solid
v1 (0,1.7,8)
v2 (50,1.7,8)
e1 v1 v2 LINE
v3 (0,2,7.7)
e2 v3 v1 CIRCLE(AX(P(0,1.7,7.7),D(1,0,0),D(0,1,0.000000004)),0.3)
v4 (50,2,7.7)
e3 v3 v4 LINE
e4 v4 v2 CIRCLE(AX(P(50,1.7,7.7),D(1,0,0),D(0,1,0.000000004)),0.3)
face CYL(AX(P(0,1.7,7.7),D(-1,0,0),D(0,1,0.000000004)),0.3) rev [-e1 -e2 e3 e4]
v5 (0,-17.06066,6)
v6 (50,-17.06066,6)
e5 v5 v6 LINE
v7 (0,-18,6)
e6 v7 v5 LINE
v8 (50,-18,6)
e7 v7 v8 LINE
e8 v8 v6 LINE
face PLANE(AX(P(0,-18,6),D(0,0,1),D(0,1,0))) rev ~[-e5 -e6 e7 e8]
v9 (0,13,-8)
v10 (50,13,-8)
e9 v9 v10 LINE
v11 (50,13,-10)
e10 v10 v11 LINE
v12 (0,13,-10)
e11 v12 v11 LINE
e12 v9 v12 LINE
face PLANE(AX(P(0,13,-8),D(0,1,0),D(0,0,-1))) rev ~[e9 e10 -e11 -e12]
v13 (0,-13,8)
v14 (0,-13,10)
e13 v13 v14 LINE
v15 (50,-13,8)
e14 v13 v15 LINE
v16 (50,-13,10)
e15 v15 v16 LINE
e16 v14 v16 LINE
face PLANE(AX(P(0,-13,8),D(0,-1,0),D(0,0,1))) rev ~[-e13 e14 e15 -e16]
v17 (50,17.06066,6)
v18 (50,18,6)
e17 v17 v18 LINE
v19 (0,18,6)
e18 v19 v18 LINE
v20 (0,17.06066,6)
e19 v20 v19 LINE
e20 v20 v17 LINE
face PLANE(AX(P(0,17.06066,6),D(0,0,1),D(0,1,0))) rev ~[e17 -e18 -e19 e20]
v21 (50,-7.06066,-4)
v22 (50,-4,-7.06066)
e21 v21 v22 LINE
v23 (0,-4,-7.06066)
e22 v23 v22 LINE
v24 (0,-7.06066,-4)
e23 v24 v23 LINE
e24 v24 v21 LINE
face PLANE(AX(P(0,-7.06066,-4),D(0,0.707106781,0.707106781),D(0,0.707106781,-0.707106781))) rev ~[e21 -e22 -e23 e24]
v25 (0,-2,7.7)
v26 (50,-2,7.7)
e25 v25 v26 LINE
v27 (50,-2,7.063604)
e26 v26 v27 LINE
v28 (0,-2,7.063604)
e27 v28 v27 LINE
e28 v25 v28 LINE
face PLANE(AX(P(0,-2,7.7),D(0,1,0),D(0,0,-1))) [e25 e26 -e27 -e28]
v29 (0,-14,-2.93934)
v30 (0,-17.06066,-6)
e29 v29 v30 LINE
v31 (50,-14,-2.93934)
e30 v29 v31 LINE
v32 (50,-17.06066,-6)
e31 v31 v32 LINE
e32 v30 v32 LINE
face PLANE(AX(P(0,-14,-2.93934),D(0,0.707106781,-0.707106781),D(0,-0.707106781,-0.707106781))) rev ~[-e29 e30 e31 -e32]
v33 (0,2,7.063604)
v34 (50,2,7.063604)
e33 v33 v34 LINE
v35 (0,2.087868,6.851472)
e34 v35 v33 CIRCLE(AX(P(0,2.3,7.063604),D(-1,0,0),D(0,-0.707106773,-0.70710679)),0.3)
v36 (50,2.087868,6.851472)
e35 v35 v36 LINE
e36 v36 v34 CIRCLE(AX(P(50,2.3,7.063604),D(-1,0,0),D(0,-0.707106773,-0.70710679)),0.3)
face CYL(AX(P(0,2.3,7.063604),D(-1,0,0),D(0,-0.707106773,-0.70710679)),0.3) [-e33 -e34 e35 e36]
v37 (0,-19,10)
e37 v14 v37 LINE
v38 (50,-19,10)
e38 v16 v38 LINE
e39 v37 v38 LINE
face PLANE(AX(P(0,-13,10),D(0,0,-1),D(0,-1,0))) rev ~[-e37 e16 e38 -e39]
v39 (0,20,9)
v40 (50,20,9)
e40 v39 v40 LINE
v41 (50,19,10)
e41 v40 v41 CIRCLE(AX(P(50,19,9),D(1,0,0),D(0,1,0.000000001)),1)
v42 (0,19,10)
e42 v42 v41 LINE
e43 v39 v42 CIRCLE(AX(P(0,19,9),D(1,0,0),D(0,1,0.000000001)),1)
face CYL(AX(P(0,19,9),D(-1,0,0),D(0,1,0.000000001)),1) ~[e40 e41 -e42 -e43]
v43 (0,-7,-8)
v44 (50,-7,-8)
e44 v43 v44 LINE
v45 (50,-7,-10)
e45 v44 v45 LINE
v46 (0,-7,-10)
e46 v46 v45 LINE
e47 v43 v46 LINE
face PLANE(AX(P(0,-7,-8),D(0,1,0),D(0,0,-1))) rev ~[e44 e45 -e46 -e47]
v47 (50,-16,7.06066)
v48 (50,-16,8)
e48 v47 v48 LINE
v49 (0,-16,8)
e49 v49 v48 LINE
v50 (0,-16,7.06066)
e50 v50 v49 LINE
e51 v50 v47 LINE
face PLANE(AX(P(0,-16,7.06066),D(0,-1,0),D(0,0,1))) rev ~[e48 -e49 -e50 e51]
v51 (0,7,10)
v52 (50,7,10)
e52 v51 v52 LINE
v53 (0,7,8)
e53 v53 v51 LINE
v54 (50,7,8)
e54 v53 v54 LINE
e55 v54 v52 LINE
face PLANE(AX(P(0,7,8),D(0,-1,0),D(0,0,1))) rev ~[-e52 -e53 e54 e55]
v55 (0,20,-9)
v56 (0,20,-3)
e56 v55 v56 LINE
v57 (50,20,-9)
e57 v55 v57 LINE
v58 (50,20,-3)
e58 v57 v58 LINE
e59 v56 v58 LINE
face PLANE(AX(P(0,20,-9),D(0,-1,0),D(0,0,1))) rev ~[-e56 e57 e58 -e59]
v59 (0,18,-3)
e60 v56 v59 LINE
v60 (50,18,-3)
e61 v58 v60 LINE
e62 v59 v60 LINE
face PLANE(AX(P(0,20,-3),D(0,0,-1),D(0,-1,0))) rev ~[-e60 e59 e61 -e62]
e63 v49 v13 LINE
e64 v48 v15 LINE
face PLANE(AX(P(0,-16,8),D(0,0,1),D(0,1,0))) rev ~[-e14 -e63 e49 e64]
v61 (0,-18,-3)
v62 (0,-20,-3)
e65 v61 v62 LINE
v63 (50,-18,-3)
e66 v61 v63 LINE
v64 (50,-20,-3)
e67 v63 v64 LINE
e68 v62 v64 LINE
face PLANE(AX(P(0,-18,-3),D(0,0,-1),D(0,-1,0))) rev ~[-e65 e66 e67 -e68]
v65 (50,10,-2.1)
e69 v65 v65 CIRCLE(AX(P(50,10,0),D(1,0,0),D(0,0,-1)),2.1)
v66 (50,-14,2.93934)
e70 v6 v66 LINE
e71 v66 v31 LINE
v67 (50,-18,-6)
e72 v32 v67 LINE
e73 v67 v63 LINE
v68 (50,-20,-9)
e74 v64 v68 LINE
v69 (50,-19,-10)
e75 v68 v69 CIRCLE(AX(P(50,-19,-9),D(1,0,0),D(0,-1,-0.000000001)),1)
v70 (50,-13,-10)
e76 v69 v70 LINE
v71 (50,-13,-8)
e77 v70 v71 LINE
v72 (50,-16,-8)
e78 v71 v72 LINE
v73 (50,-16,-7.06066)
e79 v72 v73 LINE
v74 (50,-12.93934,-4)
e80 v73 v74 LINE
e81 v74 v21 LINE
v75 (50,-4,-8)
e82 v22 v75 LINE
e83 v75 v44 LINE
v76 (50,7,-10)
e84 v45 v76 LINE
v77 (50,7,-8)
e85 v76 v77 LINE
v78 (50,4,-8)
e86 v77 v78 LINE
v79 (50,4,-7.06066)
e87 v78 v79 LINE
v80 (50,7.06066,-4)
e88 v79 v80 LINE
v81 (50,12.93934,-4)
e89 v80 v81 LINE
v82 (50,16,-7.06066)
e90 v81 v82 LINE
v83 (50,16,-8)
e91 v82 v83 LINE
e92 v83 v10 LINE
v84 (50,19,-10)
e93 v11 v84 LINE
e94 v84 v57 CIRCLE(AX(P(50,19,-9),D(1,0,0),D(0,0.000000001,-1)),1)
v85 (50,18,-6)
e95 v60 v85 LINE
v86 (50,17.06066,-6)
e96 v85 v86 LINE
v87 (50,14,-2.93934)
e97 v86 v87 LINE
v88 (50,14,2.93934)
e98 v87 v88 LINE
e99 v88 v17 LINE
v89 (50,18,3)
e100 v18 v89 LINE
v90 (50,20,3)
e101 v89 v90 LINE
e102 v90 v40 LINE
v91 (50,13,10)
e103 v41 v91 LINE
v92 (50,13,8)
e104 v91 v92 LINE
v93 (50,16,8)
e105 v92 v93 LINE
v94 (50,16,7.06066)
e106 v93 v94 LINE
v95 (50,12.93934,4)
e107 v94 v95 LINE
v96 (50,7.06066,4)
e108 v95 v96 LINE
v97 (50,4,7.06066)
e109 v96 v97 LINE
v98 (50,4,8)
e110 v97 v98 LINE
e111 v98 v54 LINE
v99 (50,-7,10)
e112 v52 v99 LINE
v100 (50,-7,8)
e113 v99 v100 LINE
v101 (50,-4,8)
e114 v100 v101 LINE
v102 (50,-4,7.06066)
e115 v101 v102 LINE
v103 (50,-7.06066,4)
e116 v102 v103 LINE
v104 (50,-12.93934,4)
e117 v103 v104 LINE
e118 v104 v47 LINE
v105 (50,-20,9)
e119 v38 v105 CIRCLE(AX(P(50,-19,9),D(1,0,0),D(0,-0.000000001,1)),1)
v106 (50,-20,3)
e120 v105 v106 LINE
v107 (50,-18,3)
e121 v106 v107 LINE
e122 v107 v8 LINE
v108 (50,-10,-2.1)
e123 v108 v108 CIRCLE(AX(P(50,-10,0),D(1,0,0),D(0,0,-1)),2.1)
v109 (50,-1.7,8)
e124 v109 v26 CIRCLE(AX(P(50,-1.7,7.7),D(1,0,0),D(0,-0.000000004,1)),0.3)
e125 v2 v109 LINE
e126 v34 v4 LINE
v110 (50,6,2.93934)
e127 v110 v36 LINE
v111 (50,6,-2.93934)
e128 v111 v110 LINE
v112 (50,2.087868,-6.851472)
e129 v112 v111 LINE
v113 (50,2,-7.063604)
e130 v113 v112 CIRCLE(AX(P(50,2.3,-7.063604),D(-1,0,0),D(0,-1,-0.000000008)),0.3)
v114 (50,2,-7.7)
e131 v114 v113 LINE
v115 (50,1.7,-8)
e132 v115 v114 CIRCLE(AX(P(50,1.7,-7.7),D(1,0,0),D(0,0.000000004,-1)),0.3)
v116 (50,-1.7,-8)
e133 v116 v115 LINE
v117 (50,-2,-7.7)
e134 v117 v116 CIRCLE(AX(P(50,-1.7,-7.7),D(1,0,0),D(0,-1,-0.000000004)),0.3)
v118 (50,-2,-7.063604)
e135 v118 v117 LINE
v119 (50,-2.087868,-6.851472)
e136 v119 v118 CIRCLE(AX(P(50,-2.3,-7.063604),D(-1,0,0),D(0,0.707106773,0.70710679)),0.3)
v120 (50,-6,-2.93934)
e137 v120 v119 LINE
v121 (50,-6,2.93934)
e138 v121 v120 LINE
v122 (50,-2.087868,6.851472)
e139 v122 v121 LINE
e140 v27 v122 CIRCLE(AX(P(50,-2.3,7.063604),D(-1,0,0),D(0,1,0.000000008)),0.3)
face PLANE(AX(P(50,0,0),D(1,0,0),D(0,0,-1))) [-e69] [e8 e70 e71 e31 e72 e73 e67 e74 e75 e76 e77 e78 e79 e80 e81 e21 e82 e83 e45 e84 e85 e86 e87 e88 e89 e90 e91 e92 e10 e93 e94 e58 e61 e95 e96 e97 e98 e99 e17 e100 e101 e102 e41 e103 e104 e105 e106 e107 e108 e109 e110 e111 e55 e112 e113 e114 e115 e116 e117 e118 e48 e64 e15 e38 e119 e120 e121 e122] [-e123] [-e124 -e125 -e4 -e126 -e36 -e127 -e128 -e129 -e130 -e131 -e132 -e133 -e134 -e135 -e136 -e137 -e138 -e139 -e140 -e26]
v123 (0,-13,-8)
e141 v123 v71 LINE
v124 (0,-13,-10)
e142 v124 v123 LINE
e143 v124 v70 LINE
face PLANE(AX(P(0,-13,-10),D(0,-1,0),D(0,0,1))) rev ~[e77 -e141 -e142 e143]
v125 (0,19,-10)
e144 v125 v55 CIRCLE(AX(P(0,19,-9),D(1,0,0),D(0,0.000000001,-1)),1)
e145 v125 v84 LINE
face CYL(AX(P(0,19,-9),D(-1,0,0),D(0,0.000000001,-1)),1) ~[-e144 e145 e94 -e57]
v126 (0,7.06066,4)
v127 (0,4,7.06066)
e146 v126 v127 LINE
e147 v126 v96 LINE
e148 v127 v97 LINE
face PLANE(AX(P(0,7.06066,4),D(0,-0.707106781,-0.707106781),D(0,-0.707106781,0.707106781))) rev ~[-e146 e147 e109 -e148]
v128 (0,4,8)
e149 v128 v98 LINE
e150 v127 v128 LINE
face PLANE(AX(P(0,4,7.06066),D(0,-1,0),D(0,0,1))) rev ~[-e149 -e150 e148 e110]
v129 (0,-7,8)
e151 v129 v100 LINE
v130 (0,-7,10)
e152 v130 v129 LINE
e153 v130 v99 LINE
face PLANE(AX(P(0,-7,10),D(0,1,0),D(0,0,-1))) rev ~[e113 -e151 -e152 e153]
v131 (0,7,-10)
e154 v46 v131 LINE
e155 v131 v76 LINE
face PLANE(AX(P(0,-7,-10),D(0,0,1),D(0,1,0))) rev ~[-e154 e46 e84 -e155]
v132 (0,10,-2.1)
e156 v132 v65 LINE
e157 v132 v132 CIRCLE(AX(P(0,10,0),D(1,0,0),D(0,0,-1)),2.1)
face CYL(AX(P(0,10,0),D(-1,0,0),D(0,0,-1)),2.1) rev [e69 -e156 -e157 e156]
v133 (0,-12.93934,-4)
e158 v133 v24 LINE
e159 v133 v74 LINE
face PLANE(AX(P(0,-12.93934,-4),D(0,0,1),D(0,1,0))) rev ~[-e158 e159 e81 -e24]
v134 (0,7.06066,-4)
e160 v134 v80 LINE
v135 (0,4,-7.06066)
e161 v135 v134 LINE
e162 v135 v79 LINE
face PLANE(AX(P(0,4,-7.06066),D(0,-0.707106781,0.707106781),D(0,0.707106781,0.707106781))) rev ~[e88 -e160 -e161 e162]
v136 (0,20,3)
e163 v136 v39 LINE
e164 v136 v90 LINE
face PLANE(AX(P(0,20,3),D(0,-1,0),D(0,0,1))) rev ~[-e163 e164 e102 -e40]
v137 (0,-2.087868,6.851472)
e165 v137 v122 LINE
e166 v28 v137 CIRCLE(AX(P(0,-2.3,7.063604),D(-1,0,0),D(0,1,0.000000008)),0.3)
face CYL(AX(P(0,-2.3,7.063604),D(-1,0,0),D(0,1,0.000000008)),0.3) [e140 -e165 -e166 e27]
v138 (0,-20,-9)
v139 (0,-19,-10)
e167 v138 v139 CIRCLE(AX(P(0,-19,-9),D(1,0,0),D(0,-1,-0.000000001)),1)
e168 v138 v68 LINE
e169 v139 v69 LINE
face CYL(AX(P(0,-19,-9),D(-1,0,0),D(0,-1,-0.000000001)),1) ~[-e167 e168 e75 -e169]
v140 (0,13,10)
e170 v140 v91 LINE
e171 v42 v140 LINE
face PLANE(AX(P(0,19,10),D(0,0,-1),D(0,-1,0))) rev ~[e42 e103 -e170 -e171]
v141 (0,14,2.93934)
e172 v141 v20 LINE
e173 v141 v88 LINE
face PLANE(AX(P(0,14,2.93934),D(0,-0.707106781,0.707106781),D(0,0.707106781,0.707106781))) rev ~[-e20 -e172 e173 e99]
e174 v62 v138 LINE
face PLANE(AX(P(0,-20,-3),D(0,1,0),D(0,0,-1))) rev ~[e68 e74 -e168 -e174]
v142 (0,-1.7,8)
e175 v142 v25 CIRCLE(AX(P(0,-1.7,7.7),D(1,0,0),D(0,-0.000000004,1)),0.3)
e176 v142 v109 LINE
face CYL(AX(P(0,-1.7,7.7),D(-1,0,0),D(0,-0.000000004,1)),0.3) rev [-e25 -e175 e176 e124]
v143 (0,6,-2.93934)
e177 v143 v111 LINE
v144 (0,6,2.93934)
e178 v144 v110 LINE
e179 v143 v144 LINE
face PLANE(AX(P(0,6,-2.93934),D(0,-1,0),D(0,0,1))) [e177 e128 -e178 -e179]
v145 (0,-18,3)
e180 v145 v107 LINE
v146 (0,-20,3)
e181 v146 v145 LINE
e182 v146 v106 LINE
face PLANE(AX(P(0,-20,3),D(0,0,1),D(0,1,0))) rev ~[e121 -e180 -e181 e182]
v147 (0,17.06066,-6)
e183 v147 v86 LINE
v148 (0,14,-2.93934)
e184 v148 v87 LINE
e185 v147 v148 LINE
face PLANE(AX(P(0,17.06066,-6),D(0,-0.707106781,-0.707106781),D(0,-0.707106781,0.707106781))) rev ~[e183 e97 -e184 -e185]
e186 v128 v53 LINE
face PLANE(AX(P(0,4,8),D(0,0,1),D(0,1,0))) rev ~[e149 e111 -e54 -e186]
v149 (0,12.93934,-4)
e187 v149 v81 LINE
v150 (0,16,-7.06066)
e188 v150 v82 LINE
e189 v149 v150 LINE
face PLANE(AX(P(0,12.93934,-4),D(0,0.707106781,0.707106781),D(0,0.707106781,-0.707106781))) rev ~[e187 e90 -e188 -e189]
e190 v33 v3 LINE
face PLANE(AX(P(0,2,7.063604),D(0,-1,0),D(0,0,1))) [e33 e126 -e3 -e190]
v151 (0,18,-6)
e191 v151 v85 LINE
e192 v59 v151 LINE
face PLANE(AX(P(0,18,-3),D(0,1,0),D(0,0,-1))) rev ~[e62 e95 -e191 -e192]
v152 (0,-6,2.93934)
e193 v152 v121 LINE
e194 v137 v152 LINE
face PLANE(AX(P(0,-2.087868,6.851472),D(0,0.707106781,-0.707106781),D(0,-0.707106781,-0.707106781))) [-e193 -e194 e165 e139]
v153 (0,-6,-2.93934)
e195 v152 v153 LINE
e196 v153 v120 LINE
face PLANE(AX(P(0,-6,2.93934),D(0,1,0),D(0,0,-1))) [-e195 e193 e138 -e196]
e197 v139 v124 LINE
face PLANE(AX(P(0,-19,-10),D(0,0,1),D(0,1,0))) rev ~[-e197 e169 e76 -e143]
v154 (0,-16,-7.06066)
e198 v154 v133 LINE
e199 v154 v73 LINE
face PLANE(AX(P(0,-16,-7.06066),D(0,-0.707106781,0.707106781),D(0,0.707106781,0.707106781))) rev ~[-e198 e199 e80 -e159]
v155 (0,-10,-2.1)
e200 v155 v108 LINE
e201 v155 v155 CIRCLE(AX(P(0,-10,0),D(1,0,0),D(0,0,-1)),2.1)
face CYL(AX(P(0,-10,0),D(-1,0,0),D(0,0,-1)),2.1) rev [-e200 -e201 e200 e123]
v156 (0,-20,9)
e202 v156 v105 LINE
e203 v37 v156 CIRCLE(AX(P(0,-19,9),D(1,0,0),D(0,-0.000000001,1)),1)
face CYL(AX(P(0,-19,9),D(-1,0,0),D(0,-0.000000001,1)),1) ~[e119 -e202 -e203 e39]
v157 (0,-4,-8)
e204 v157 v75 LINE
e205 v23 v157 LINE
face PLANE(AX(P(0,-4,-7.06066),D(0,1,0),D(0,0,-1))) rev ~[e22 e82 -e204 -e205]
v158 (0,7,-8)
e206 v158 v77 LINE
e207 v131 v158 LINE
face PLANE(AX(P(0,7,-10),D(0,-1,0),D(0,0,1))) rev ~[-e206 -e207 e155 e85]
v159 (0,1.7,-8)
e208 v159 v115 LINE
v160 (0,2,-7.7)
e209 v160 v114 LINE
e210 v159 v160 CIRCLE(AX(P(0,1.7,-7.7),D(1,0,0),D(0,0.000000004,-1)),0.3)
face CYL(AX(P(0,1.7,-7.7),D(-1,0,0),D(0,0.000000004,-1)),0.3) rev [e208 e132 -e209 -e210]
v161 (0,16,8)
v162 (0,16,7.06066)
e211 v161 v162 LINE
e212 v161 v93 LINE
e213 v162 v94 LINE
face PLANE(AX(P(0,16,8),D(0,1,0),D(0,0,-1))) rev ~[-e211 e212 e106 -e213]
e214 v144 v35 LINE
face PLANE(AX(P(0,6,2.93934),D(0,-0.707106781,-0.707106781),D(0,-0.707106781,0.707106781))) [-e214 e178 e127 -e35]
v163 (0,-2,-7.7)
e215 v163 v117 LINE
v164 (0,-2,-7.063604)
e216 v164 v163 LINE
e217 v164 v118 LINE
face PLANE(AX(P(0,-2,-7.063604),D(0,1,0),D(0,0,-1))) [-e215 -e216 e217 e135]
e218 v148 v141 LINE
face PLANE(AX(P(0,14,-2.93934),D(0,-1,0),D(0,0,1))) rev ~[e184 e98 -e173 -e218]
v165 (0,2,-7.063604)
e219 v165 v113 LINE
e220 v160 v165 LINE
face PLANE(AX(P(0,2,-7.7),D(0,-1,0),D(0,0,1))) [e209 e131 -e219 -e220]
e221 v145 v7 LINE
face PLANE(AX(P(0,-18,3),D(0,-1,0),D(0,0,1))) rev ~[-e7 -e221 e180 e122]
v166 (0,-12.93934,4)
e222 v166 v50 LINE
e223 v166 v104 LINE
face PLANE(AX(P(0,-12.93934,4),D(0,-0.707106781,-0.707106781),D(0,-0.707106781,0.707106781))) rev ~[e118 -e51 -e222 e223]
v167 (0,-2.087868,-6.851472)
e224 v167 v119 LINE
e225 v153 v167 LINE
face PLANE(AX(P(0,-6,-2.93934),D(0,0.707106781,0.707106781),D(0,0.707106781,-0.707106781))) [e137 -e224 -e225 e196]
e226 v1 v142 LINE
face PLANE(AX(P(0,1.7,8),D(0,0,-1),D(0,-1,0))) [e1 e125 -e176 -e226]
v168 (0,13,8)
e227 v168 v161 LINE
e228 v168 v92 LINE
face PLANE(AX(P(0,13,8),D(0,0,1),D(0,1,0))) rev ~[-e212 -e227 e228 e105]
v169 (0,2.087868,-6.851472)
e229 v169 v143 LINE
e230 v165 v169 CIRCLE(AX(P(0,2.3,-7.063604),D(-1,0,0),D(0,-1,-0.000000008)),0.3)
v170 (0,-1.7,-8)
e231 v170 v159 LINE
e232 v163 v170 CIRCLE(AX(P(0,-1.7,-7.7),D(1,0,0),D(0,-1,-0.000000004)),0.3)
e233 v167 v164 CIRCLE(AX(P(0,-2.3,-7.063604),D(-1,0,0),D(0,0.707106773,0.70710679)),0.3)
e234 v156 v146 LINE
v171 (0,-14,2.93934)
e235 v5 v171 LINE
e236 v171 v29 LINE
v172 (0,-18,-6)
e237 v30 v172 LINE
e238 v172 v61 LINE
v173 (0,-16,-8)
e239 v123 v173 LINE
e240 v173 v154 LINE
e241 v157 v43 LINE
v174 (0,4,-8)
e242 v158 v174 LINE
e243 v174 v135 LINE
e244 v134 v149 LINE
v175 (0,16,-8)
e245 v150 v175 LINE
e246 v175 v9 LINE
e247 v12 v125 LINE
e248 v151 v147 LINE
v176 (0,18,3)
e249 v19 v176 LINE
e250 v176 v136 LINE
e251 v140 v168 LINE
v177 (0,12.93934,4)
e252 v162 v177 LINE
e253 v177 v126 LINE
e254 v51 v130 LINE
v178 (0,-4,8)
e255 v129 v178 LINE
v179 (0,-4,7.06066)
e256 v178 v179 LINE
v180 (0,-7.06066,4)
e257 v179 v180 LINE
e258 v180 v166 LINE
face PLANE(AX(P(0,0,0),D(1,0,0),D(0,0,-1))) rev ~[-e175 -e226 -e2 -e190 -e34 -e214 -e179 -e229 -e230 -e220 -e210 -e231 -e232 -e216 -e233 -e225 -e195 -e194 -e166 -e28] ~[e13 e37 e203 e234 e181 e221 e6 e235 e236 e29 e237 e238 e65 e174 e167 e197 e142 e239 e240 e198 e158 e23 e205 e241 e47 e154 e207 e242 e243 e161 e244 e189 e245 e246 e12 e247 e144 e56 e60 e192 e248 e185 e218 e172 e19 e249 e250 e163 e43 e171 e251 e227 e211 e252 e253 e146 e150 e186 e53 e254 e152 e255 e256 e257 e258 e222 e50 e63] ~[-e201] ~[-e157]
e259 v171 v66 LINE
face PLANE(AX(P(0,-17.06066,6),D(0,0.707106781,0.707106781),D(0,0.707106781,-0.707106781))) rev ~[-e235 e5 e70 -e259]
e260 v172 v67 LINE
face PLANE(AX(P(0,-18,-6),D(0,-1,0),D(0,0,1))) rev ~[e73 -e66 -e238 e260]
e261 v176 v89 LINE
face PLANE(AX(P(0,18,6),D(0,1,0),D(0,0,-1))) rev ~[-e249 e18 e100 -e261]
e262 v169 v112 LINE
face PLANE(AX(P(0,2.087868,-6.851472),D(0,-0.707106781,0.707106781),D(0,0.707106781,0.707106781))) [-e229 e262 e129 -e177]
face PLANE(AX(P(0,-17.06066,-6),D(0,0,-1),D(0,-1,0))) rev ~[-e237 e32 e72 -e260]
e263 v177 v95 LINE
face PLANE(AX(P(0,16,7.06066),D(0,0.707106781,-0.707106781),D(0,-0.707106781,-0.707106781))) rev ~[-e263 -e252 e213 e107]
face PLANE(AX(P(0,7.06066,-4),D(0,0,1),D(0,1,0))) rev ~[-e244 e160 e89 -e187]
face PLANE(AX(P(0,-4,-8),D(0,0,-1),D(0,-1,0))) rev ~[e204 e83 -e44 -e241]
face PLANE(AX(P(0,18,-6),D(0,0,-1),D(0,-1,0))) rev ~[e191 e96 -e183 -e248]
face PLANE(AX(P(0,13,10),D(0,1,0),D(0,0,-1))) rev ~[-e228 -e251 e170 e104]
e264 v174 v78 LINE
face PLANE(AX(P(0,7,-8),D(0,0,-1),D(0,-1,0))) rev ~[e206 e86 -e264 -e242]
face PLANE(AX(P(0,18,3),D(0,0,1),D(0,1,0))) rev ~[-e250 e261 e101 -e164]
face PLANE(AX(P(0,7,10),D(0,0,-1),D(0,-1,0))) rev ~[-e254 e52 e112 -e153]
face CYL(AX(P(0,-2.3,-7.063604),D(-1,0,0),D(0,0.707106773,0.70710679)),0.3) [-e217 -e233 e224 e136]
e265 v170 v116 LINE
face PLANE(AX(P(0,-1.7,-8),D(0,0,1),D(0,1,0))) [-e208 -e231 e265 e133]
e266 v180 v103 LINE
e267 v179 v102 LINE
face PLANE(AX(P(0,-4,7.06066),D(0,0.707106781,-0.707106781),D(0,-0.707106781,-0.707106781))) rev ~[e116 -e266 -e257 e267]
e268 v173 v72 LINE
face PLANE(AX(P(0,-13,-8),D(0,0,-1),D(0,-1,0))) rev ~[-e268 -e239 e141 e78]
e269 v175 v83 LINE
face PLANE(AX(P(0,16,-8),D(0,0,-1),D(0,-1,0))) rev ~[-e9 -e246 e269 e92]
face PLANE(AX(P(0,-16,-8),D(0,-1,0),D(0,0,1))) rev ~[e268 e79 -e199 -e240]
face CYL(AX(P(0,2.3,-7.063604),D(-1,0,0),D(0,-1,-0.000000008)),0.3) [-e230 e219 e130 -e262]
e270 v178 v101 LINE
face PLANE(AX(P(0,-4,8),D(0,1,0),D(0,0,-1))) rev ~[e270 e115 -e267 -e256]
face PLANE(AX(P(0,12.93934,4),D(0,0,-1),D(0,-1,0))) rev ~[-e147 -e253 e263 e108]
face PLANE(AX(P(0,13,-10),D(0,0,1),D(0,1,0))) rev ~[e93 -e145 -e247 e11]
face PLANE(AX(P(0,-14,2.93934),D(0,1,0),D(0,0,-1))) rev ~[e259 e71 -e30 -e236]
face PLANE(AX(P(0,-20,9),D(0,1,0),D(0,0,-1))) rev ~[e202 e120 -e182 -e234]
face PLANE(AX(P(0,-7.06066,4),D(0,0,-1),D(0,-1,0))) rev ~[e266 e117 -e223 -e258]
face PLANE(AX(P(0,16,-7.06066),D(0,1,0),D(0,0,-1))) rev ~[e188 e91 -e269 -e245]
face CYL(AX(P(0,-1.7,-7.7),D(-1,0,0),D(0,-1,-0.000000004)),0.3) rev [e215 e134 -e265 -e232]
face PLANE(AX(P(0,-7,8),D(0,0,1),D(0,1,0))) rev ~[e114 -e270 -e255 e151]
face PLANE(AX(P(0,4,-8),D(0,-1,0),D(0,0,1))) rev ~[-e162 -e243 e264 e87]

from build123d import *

# Parameters (mm, degrees)
SKETCH1_R           = 2.1
BOSS_EXTRUDE1_DEPTH = 50


with BuildPart() as part:
    # Sketch1 → Boss-Extrude1 (new body)
    with BuildSketch(Plane(origin=(0, 0, 0), x_dir=(0, 0, -1), z_dir=(1, 0, 0))):
        with BuildLine():
            Line((-10, -13), (-10, -19))
            ThreePointArc((-10, -19), (-9.707106781, -19.707106781), (-9, -20))
            Line((-9, -20), (-3, -20))
            Line((-3, -20), (-3, -18))
            Line((-3, -18), (-6, -18))
            Line((-6, -18), (-6, -17.060660172))
            Line((-6, -17.060660172), (-2.939339828, -14))
            Line((-2.939339828, -14), (2.939339828, -14))
            Line((2.939339828, -14), (6, -17.060660172))
            Line((6, -17.060660172), (6, -18))
            Line((6, -18), (3, -18))
            Line((3, -18), (3, -20))
            Line((3, -20), (9, -20))
            ThreePointArc((9, -20), (9.707106781, -19.707106781), (10, -19))
            Line((10, -19), (10, -13))
            Line((10, -13), (8, -13))
            Line((8, -13), (8, -16))
            Line((8, -16), (7.060660172, -16))
            Line((7.060660172, -16), (4, -12.939339828))
            Line((4, -12.939339828), (4, -7.060660172))
            Line((4, -7.060660172), (7.060660172, -4))
            Line((7.060660172, -4), (8, -4))
            Line((8, -4), (8, -7))
            Line((8, -7), (10, -7))
            Line((10, -7), (10, 7))
            Line((10, 7), (8, 7))
            Line((8, 7), (8, 4))
            Line((8, 4), (7.060660172, 4))
            Line((7.060660172, 4), (4, 7.060660172))
            Line((4, 7.060660172), (4, 12.939339828))
            Line((4, 12.939339828), (7.060660172, 16))
            Line((7.060660172, 16), (8, 16))
            Line((8, 16), (8, 13))
            Line((8, 13), (10, 13))
            Line((10, 13), (10, 19))
            ThreePointArc((10, 19), (9.707106781, 19.707106781), (9, 20))
            Line((9, 20), (3, 20))
            Line((3, 20), (3, 18))
            Line((3, 18), (6, 18))
            Line((6, 18), (6, 17.060660172))
            Line((6, 17.060660172), (2.939339828, 14))
            Line((2.939339828, 14), (-2.939339828, 14))
            Line((-2.939339828, 14), (-6, 17.060660172))
            Line((-6, 17.060660172), (-6, 18))
            Line((-6, 18), (-3, 18))
            Line((-3, 18), (-3, 20))
            Line((-3, 20), (-9, 20))
            ThreePointArc((-9, 20), (-9.707106781, 19.707106781), (-10, 19))
            Line((-10, 19), (-10, 13))
            Line((-10, 13), (-8, 13))
            Line((-8, 13), (-8, 16))
            Line((-8, 16), (-7.060660172, 16))
            Line((-7.060660172, 16), (-4, 12.939339828))
            Line((-4, 12.939339828), (-4, 7.060660172))
            Line((-4, 7.060660172), (-7.060660172, 4))
            Line((-7.060660172, 4), (-8, 4))
            Line((-8, 4), (-8, 7))
            Line((-8, 7), (-10, 7))
            Line((-10, 7), (-10, -7))
            Line((-10, -7), (-8, -7))
            Line((-8, -7), (-8, -4))
            Line((-8, -4), (-7.060660172, -4))
            Line((-7.060660172, -4), (-4, -7.060660172))
            Line((-4, -7.060660172), (-4, -12.939339828))
            Line((-4, -12.939339828), (-7.060660172, -16))
            Line((-7.060660172, -16), (-8, -16))
            Line((-8, -16), (-8, -13))
            Line((-8, -13), (-10, -13))
        make_face()
        with Locations((0, 10)):
            Circle(SKETCH1_R, mode=Mode.SUBTRACT)
        with Locations((0, -10)):
            Circle(SKETCH1_R, mode=Mode.SUBTRACT)
        with BuildLine():
            Line((-8, 1.7), (-8, -1.7))
            ThreePointArc((-8, -1.7), (-7.912132034, -1.912132034), (-7.7, -2))
            Line((-7.7, -2), (-7.063603897, -2))
            ThreePointArc((-7.063603897, -2), (-6.948798867, -2.02283614), (-6.851471863, -2.087867966))
            Line((-6.851471863, -2.087867966), (-2.939339828, -6))
            Line((-2.939339828, -6), (2.939339828, -6))
            Line((2.939339828, -6), (6.851471863, -2.087867966))
            ThreePointArc((6.851471863, -2.087867966), (6.948798867, -2.02283614), (7.063603897, -2))
            Line((7.063603897, -2), (7.7, -2))
            ThreePointArc((7.7, -2), (7.912132034, -1.912132034), (8, -1.7))
            Line((8, -1.7), (8, 1.7))
            ThreePointArc((8, 1.7), (7.912132034, 1.912132034), (7.7, 2))
            Line((7.7, 2), (7.063603897, 2))
            ThreePointArc((7.063603897, 2), (6.948798867, 2.02283614), (6.851471863, 2.087867966))
            Line((6.851471863, 2.087867966), (2.939339828, 6))
            Line((2.939339828, 6), (-2.939339828, 6))
            Line((-2.939339828, 6), (-6.851471863, 2.087867966))
            ThreePointArc((-6.851471863, 2.087867966), (-6.948798867, 2.02283614), (-7.063603897, 2))
            Line((-7.063603897, 2), (-7.7, 2))
            ThreePointArc((-7.7, 2), (-7.912132034, 1.912132034), (-8, 1.7))
        make_face(mode=Mode.SUBTRACT)
    extrude(amount=BOSS_EXTRUDE1_DEPTH)


solid = part.part
